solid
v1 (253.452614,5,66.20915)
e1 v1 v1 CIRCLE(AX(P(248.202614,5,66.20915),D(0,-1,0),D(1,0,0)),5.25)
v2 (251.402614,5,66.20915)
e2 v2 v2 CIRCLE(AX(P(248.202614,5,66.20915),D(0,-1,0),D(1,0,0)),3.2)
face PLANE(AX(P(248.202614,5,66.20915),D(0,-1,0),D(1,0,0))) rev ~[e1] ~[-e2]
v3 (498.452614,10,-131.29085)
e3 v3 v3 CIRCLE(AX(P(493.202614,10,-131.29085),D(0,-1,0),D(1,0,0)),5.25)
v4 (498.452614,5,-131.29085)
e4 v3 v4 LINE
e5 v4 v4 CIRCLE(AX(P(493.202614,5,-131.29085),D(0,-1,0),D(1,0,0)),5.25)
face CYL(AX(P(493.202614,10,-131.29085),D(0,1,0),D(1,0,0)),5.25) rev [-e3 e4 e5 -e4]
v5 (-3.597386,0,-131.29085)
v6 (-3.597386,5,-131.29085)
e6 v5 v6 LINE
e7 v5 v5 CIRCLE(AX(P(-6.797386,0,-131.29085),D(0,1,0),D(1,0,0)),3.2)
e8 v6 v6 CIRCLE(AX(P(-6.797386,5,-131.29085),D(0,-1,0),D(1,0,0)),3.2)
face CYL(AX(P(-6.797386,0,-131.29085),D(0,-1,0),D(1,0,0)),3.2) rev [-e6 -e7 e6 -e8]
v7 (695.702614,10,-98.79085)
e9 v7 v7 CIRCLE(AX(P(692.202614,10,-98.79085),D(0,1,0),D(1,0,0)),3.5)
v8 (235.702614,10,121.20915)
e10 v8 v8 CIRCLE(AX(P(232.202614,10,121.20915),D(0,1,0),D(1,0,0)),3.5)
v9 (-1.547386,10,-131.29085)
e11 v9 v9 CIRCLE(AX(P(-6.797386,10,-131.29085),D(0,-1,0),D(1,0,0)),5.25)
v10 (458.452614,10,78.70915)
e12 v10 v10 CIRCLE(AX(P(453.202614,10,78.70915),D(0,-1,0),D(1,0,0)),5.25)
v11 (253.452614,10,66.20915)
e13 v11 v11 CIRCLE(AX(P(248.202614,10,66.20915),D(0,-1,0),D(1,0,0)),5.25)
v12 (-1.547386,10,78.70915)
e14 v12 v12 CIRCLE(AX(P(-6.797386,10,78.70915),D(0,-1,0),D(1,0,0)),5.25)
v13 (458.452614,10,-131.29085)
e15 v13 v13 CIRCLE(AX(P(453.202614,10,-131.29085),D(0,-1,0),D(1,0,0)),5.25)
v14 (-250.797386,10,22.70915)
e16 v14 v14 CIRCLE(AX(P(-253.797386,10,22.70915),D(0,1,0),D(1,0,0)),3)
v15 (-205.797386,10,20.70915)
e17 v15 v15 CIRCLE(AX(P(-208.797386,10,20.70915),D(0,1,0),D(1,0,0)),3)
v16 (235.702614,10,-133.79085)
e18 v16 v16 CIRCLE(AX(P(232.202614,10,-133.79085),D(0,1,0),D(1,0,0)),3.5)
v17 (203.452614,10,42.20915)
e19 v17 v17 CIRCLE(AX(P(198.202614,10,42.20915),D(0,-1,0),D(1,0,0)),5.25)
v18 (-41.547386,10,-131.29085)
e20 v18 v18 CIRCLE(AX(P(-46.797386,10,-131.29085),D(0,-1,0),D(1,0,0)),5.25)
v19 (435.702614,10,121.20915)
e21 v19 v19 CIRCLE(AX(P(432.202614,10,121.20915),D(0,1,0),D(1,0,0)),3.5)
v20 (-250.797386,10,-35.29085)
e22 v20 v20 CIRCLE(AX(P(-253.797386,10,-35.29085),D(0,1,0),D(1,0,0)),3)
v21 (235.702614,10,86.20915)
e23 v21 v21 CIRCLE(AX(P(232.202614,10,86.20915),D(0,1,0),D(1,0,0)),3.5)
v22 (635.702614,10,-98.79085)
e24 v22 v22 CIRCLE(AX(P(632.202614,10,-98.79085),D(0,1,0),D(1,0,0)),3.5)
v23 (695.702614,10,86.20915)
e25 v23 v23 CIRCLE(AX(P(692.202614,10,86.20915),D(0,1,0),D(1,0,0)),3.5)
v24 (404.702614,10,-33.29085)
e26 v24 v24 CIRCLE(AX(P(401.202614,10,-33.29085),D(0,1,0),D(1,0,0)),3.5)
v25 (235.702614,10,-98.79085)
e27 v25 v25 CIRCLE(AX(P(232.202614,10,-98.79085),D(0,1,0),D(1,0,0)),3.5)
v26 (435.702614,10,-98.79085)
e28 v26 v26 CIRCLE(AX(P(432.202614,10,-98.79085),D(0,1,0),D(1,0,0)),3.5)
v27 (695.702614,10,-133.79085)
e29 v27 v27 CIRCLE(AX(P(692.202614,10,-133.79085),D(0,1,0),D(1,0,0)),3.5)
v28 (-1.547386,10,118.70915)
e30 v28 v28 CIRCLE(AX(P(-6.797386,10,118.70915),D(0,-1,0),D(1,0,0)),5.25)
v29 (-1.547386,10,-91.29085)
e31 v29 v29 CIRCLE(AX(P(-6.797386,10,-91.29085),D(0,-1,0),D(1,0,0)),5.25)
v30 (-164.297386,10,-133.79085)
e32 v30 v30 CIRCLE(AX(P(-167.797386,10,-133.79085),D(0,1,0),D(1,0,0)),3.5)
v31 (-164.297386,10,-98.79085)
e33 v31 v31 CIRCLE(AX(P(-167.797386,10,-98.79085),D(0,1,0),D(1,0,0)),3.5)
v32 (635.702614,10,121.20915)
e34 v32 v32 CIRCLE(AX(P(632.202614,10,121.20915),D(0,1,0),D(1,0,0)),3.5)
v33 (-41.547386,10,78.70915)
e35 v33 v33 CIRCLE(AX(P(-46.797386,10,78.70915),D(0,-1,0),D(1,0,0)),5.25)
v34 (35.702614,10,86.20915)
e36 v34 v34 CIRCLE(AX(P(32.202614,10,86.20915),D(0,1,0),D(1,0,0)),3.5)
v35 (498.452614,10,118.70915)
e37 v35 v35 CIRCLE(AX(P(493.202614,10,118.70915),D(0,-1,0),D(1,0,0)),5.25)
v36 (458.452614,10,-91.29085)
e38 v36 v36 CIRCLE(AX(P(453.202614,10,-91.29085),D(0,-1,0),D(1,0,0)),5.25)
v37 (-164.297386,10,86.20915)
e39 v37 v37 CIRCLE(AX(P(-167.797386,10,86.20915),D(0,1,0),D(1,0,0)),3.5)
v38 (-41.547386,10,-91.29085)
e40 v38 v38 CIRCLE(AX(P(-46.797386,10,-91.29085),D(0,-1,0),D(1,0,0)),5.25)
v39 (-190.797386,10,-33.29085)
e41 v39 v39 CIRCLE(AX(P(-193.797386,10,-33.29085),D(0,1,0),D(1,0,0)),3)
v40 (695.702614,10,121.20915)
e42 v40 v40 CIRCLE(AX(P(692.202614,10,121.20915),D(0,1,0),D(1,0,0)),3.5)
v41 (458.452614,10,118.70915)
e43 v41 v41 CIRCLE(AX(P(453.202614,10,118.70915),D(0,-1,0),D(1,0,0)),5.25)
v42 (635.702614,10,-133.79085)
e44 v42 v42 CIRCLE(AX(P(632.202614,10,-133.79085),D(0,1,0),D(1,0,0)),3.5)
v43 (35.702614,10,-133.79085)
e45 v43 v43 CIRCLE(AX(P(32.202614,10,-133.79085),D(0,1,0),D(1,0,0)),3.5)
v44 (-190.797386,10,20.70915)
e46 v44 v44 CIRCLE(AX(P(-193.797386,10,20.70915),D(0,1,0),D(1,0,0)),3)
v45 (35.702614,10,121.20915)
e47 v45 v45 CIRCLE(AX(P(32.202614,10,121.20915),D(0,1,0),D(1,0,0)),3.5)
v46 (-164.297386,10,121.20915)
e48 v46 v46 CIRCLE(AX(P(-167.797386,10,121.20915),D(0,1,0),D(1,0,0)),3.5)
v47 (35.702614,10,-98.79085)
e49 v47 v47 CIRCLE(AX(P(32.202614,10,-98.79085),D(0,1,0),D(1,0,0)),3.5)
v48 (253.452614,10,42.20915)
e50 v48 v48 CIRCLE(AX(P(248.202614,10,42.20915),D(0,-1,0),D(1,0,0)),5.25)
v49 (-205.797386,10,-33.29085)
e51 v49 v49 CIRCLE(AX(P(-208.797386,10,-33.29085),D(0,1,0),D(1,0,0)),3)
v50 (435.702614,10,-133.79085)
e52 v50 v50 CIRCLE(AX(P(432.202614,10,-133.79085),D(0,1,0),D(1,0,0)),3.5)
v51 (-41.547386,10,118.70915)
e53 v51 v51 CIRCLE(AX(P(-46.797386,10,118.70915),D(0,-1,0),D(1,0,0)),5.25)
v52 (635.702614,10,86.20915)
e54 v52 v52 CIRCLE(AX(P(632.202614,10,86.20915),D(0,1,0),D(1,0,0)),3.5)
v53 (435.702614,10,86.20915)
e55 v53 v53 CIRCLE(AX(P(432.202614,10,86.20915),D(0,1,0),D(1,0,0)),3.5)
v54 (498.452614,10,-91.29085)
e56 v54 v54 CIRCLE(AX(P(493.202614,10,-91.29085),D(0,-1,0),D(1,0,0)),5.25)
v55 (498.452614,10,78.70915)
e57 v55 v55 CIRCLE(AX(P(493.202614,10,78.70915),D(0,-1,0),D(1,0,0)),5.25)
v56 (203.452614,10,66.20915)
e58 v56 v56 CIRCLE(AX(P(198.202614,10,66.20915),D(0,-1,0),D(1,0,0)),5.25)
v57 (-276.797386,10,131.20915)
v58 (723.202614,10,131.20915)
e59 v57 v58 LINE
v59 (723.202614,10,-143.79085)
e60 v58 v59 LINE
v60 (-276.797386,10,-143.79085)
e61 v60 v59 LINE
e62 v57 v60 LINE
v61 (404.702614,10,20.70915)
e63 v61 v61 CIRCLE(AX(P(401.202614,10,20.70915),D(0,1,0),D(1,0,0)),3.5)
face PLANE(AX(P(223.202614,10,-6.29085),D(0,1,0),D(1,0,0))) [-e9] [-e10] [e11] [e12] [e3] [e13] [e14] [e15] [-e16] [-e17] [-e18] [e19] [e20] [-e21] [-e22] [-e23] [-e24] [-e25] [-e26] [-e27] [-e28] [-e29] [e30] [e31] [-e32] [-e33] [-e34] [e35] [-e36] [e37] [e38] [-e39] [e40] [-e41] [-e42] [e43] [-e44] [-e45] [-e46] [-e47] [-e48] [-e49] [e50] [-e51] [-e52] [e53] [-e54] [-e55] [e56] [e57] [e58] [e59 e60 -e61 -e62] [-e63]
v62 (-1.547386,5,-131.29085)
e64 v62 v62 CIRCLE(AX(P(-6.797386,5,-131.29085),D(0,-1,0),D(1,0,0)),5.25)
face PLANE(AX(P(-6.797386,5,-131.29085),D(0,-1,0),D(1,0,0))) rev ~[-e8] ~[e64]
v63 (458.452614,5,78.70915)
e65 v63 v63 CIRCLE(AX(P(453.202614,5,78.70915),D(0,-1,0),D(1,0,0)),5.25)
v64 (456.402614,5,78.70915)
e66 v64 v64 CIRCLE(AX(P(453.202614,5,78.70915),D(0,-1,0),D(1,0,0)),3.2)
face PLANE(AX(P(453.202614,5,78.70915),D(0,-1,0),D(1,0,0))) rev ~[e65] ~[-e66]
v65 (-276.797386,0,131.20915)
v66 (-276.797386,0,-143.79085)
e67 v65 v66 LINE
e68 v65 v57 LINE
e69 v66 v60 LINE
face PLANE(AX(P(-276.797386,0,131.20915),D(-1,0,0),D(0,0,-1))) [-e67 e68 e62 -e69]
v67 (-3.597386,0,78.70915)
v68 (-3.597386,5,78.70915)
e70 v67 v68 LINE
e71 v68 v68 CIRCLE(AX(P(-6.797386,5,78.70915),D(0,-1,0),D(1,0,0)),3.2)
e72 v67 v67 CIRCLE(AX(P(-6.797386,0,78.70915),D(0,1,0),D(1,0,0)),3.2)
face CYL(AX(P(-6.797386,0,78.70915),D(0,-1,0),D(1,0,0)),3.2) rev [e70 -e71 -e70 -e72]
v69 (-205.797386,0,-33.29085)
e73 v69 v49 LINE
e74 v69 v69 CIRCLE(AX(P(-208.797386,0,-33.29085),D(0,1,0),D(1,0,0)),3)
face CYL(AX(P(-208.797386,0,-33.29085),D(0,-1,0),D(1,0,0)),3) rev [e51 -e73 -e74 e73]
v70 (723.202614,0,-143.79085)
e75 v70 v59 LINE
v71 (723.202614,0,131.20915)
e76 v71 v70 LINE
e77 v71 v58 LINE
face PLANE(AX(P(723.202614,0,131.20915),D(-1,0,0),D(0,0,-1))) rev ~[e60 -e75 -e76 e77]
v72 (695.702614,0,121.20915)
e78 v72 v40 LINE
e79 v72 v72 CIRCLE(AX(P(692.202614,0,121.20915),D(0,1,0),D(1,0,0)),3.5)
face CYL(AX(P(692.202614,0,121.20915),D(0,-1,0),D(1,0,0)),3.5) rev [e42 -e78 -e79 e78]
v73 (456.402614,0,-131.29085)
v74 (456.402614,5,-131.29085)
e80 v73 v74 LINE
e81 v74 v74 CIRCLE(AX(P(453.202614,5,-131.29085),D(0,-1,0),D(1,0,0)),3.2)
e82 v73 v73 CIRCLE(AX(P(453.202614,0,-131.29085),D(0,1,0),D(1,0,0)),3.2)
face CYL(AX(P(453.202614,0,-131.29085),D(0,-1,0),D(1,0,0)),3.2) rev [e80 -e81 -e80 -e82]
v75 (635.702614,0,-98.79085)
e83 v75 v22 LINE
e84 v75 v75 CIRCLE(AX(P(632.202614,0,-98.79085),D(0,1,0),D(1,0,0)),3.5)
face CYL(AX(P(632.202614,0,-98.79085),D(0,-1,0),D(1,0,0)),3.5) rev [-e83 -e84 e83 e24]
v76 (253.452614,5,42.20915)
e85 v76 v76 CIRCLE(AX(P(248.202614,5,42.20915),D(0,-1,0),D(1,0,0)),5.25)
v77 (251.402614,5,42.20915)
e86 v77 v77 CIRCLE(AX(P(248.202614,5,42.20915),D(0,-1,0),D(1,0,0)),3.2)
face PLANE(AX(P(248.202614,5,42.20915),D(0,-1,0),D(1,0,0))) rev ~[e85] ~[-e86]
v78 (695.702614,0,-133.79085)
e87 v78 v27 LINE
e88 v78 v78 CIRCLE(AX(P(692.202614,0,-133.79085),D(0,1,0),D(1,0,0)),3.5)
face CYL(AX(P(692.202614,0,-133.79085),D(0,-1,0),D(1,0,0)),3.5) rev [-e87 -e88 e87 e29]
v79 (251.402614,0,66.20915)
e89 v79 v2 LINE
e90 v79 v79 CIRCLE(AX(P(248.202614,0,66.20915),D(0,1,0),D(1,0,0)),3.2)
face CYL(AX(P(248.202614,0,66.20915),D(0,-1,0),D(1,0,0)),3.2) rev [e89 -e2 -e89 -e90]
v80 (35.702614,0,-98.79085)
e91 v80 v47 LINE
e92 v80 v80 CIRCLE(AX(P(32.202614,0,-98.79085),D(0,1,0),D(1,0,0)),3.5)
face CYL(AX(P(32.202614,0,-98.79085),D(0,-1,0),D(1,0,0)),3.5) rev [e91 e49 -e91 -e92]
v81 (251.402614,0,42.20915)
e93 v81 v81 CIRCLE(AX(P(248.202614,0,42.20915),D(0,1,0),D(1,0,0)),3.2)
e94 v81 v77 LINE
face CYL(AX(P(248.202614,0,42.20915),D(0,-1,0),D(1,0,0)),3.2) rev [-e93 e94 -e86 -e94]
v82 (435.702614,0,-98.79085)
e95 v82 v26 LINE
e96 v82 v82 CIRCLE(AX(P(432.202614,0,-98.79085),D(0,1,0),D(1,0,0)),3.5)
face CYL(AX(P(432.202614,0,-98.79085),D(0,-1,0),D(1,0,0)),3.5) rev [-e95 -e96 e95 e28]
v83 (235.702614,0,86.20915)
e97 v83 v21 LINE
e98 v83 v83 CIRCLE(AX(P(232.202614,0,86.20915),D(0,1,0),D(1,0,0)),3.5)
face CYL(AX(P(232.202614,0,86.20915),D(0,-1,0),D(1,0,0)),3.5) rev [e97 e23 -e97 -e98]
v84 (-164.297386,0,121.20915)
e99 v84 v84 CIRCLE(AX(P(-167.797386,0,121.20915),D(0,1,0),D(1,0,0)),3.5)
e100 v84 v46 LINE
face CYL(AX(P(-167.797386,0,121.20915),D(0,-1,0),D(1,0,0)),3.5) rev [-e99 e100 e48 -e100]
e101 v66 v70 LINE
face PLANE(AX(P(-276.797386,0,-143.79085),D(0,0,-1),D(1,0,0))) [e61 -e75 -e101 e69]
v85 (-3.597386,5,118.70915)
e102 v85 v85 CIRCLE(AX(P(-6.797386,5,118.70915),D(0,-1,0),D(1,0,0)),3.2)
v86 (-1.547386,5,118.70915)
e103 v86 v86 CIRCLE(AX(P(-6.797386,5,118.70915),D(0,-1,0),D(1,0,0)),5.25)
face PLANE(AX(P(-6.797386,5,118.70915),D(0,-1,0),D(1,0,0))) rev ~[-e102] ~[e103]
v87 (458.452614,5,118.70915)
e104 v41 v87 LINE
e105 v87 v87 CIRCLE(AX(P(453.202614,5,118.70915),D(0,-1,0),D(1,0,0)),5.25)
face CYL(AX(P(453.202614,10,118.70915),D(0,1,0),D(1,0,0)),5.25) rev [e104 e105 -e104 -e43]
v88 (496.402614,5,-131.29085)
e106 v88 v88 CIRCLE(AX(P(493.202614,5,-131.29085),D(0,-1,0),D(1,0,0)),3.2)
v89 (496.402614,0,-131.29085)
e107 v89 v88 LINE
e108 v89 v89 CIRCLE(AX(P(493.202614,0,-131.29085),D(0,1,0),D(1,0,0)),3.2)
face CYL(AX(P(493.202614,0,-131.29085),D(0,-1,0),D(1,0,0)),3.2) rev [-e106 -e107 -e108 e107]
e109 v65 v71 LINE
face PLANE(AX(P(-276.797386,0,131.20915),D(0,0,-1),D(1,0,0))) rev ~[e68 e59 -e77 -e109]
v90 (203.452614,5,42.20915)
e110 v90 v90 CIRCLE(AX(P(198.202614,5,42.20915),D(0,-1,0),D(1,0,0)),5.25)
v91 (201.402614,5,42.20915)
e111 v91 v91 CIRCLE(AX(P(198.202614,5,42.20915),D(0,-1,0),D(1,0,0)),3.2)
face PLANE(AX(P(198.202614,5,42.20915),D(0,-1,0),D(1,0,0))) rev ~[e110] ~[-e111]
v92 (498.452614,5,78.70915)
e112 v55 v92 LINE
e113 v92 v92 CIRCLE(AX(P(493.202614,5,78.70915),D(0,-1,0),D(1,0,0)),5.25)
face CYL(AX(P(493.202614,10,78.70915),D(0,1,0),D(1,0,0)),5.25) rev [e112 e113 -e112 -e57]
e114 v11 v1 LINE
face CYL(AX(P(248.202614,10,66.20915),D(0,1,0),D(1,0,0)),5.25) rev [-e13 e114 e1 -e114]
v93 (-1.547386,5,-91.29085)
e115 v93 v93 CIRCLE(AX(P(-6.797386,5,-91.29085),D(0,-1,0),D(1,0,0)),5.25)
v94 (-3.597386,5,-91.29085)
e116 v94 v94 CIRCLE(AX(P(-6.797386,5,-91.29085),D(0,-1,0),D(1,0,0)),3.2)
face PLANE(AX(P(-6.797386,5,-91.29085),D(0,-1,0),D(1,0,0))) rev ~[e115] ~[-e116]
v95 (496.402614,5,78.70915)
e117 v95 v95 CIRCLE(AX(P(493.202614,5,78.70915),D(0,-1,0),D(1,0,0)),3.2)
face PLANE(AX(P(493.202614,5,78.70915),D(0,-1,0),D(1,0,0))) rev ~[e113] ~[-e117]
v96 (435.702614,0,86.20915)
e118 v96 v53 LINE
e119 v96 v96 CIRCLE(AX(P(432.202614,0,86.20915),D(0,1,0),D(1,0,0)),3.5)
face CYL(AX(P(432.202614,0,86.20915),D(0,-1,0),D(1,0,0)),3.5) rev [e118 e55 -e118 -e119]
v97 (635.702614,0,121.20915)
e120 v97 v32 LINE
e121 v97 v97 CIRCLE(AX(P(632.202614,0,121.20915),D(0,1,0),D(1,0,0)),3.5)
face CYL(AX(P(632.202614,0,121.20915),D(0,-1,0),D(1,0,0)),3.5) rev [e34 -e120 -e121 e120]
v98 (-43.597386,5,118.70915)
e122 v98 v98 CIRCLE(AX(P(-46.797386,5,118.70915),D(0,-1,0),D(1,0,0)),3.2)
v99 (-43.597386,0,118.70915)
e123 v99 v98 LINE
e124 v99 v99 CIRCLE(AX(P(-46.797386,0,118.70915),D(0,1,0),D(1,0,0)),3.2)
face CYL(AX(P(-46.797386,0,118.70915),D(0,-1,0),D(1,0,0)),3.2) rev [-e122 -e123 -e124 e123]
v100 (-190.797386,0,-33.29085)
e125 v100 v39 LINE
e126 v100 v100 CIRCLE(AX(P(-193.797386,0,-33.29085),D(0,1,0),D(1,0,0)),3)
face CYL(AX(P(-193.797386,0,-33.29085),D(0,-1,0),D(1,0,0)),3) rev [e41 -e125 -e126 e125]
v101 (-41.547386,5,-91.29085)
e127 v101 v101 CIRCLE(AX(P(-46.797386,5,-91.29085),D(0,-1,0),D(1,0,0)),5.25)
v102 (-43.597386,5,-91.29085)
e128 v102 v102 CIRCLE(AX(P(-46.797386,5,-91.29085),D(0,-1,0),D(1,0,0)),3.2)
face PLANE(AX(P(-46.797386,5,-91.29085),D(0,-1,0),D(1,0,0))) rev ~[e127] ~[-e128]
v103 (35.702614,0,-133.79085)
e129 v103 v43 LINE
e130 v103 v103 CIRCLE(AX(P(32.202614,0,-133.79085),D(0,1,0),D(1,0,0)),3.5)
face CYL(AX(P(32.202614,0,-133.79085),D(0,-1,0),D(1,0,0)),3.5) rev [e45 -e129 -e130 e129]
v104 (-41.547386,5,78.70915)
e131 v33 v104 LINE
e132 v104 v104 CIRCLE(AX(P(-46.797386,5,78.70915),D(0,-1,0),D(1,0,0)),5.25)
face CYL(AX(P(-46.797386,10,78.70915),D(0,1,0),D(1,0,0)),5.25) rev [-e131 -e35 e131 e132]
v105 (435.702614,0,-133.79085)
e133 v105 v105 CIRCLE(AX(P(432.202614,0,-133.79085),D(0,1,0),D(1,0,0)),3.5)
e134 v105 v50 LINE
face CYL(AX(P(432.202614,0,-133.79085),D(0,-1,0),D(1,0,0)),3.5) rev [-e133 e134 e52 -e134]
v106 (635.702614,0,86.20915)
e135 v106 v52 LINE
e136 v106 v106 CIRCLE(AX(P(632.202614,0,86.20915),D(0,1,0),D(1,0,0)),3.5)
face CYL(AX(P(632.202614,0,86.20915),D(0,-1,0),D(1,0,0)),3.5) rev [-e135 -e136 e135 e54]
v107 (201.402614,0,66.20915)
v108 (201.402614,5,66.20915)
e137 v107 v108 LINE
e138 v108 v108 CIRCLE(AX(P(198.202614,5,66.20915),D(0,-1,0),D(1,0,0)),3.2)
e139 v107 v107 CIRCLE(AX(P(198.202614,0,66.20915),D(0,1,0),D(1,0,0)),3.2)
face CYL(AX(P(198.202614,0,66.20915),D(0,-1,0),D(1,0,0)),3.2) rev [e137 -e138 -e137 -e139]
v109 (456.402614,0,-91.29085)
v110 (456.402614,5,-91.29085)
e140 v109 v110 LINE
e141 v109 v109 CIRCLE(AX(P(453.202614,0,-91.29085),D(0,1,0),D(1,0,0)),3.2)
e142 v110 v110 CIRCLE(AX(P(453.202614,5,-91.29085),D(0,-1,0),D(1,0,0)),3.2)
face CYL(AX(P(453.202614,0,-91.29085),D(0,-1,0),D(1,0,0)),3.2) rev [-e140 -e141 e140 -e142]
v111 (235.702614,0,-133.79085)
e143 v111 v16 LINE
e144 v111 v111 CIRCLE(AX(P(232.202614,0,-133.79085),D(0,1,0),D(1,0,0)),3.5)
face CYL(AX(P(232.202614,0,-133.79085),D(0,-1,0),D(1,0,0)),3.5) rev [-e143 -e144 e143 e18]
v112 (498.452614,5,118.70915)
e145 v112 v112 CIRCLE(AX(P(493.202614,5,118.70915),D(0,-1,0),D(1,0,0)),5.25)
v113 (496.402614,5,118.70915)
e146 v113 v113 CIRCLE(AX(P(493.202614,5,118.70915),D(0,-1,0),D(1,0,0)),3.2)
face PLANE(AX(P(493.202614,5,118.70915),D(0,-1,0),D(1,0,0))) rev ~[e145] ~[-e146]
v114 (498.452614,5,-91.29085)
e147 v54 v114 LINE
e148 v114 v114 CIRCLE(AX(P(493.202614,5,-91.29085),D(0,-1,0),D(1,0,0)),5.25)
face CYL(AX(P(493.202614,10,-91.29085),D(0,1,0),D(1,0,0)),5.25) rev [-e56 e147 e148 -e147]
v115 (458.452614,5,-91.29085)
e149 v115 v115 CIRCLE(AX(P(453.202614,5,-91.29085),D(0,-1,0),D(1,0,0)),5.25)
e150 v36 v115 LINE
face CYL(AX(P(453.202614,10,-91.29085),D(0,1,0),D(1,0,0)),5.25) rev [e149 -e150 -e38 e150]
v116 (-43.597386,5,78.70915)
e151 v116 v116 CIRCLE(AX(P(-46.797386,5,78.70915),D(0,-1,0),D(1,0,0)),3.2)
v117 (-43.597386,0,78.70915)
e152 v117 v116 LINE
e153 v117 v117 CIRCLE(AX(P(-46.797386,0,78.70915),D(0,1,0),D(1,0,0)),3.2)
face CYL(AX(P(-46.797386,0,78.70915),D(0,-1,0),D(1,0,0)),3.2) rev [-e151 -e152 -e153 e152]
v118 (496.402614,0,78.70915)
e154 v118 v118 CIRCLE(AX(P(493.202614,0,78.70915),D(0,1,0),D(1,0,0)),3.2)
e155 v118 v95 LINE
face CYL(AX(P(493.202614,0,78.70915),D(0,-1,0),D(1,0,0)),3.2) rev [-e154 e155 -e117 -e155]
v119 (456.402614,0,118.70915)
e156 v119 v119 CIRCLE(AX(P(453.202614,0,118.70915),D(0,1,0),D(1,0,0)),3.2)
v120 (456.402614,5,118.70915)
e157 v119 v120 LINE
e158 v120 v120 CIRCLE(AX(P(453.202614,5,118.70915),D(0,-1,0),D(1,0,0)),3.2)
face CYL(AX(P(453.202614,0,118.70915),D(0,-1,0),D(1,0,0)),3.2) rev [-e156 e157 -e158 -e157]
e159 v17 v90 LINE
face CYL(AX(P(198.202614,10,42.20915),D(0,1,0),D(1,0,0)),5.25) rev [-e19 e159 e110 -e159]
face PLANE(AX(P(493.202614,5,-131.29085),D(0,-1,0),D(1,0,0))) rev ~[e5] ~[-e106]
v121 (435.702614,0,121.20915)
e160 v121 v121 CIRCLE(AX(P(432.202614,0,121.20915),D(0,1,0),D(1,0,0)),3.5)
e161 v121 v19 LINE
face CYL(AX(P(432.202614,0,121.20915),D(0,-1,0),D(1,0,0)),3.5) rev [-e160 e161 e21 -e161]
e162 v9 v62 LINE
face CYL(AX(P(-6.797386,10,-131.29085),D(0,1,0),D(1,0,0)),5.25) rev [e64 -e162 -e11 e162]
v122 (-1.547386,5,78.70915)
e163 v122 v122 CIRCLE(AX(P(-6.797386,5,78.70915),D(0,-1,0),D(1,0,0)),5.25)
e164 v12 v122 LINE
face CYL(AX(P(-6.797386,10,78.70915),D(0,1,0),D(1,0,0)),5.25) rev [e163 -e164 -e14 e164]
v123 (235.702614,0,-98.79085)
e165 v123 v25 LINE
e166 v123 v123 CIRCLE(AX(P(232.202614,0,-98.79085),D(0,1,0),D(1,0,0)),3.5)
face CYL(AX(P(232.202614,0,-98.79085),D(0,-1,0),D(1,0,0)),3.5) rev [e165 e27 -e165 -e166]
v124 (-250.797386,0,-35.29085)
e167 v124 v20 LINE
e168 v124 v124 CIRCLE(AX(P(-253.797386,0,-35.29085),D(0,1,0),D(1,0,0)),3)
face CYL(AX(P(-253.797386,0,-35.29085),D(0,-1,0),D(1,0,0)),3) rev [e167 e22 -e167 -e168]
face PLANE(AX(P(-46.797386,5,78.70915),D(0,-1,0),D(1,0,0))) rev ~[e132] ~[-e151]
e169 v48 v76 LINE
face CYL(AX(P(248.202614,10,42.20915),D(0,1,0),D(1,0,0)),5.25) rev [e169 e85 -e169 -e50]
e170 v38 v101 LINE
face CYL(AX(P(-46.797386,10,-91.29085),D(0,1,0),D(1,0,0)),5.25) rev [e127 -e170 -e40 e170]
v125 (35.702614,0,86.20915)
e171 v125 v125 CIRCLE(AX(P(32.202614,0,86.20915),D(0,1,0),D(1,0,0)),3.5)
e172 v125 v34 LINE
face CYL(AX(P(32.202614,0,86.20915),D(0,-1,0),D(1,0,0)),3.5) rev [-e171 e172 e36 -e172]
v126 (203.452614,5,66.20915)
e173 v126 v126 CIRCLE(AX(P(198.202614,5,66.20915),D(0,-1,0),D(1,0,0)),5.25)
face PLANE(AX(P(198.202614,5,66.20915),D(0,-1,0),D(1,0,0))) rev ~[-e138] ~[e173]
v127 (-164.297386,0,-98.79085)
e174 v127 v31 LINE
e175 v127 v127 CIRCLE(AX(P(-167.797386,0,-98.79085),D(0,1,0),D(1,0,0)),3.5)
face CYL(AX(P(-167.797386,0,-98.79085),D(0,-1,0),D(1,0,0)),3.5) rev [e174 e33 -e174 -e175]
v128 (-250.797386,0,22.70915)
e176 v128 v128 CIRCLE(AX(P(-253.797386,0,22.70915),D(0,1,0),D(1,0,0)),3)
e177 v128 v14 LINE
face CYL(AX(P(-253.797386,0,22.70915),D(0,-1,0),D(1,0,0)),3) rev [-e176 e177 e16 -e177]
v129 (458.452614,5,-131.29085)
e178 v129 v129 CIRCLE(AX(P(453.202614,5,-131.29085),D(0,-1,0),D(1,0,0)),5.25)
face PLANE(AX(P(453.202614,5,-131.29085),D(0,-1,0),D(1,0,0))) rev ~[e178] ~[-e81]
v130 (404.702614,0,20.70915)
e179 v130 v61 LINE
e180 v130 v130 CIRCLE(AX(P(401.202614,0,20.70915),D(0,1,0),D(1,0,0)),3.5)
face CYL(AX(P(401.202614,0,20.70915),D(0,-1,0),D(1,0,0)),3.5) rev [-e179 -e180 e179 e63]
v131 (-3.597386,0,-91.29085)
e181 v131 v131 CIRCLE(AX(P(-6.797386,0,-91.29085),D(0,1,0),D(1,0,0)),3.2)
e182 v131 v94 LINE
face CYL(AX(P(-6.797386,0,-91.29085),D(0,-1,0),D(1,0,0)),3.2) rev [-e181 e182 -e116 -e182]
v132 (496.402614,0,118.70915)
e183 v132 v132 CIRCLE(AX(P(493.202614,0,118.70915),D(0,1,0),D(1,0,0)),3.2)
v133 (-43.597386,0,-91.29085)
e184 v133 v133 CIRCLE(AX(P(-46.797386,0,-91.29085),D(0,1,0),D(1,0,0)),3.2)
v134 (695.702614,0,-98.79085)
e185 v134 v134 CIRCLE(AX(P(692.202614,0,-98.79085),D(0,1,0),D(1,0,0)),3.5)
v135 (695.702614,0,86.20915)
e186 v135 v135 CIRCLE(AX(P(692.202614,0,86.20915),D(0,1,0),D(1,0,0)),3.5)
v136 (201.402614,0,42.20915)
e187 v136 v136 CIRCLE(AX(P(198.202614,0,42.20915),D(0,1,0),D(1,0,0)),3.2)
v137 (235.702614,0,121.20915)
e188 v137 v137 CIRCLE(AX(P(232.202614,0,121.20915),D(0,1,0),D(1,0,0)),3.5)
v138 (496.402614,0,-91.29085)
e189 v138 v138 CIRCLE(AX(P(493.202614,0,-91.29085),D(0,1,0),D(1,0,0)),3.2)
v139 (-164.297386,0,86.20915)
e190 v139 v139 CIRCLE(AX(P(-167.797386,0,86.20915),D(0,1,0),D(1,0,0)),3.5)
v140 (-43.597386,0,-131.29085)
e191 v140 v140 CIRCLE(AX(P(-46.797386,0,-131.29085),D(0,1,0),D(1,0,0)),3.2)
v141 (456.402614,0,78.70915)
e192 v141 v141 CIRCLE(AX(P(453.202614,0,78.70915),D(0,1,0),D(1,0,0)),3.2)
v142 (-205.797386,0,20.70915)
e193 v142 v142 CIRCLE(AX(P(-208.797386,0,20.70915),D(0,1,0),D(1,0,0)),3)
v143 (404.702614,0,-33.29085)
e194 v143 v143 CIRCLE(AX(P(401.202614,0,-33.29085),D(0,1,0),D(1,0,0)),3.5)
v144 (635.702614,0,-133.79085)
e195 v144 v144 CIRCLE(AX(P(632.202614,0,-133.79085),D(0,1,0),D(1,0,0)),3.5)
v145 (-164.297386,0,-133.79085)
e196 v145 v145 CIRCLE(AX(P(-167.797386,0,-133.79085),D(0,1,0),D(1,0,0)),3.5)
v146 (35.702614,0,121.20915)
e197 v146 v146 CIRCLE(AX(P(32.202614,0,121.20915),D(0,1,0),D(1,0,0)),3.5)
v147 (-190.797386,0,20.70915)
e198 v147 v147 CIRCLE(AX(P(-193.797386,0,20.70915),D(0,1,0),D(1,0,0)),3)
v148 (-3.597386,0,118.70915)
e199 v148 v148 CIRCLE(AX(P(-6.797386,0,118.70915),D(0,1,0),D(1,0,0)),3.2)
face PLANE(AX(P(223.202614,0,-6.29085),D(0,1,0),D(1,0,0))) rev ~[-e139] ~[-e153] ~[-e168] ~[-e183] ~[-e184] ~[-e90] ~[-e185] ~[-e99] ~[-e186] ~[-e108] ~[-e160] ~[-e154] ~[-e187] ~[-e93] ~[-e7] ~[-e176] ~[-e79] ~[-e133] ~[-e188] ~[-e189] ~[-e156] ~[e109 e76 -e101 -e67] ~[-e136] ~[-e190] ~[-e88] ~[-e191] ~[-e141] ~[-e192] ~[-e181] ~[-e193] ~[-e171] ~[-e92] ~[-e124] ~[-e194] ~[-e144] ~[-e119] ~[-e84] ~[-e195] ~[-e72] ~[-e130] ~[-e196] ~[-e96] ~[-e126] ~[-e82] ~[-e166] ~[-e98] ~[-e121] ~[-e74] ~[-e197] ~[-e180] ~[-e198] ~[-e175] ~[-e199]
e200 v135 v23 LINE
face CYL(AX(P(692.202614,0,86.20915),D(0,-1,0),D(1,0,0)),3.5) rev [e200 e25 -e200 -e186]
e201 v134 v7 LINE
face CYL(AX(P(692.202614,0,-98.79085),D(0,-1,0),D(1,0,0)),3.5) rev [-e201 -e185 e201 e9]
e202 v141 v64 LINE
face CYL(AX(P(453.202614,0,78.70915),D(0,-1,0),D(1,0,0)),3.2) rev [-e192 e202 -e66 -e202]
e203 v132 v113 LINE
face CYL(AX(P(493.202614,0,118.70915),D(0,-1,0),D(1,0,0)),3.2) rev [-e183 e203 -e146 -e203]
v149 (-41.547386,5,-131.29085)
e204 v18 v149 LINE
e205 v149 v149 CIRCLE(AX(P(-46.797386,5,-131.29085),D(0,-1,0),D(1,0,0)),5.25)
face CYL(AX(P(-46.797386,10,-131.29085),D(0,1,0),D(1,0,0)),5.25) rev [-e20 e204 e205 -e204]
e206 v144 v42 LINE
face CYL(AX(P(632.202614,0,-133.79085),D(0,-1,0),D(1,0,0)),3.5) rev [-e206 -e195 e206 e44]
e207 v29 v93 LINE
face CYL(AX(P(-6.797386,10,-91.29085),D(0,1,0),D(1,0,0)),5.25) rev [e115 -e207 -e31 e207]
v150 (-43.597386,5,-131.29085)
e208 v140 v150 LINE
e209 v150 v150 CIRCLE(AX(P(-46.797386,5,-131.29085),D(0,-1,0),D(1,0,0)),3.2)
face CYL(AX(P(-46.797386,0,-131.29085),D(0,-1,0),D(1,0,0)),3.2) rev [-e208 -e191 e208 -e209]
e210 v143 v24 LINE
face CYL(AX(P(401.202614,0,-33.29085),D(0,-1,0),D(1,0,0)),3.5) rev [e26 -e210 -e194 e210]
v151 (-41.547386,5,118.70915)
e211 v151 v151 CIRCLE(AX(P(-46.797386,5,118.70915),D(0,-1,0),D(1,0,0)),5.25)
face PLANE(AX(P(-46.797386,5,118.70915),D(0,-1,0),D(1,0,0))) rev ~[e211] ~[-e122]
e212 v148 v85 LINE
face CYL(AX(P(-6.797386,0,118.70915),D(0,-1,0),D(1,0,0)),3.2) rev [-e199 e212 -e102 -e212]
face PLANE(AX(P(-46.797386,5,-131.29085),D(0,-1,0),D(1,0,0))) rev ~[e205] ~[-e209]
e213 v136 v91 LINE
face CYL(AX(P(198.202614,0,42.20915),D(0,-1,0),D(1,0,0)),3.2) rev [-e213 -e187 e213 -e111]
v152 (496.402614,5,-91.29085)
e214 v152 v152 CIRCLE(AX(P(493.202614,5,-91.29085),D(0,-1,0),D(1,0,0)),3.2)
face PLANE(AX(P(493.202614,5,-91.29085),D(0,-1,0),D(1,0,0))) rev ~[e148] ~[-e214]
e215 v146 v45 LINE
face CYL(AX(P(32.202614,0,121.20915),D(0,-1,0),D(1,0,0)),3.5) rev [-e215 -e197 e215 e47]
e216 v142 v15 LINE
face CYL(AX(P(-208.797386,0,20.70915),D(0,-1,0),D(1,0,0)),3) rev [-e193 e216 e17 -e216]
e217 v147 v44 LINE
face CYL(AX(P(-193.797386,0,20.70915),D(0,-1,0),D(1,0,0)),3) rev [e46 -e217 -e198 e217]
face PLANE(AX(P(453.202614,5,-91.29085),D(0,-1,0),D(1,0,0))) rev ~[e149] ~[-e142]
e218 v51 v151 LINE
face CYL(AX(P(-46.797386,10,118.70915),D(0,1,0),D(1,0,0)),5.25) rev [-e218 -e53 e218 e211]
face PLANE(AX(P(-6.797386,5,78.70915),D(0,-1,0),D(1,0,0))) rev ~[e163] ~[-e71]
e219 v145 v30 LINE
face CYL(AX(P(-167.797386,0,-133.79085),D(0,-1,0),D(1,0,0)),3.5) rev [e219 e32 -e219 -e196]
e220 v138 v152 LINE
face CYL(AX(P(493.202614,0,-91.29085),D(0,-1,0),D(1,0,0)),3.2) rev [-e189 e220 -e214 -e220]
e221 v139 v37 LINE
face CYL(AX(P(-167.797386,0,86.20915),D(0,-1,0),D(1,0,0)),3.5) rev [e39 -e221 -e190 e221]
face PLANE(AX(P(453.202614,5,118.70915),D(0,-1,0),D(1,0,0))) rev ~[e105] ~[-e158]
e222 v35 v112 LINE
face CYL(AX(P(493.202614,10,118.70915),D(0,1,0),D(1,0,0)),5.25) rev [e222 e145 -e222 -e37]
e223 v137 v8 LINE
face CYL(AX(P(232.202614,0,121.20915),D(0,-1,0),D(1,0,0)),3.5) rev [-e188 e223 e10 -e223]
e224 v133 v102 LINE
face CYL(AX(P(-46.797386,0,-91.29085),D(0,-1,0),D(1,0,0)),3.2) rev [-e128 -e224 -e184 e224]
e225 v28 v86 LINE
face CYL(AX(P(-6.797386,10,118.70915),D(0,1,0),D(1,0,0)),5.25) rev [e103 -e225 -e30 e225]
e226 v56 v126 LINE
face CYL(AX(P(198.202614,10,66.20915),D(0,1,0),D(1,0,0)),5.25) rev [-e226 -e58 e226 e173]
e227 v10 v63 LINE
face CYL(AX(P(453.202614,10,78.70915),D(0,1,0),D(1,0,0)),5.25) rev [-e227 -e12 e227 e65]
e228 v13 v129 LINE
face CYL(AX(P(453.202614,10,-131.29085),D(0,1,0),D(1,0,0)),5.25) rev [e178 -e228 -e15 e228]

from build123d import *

# Parameters (mm, degrees)
SKETCH_1_W          = 1000
SKETCH_1_H          = 275
SKETCH_1_R          = 3
SKETCH_1_R_2        = 3.5
SKETCH_1_R_3        = 3.2
EXTRUDE_1_DEPTH     = 10
SKETCH_1290_R       = 5.25
CUT_EXTRUDE_1_DEPTH = 5


with BuildPart() as part:
    # Эскиз1 → Бобышка-Вытянуть1 (new body)
    with BuildSketch(Plane(origin=(0, 0, 0), x_dir=(1, 0, 0), z_dir=(0, 1, 0))):
        with Locations((223.202614379, 6.290849673)):
            Rectangle(SKETCH_1_W, SKETCH_1_H)
        with Locations((-253.797385621, 35.290849673)):
            Circle(SKETCH_1_R, mode=Mode.SUBTRACT)
        with Locations((-208.797385621, 33.290849673)):
            Circle(SKETCH_1_R, mode=Mode.SUBTRACT)
        with Locations((-193.797385621, 33.290849673)):
            Circle(SKETCH_1_R, mode=Mode.SUBTRACT)
        with Locations((-167.797385621, 133.790849673)):
            Circle(SKETCH_1_R_2, mode=Mode.SUBTRACT)
        with Locations((32.202614379, 133.790849673)):
            Circle(SKETCH_1_R_2, mode=Mode.SUBTRACT)
        with Locations((232.202614379, 133.790849673)):
            Circle(SKETCH_1_R_2, mode=Mode.SUBTRACT)
        with Locations((432.202614379, 133.790849673)):
            Circle(SKETCH_1_R_2, mode=Mode.SUBTRACT)
        with Locations((632.202614379, 133.790849673)):
            Circle(SKETCH_1_R_2, mode=Mode.SUBTRACT)
        with Locations((692.202614379, 133.790849673)):
            Circle(SKETCH_1_R_2, mode=Mode.SUBTRACT)
        with Locations((692.202614379, 98.790849673)):
            Circle(SKETCH_1_R_2, mode=Mode.SUBTRACT)
        with Locations((632.202614379, 98.790849673)):
            Circle(SKETCH_1_R_2, mode=Mode.SUBTRACT)
        with Locations((432.202614379, 98.790849673)):
            Circle(SKETCH_1_R_2, mode=Mode.SUBTRACT)
        with Locations((232.202614379, 98.790849673)):
            Circle(SKETCH_1_R_2, mode=Mode.SUBTRACT)
        with Locations((32.202614379, 98.790849673)):
            Circle(SKETCH_1_R_2, mode=Mode.SUBTRACT)
        with Locations((-167.797385621, 98.790849673)):
            Circle(SKETCH_1_R_2, mode=Mode.SUBTRACT)
        with Locations((632.202614379, -86.209150327)):
            Circle(SKETCH_1_R_2, mode=Mode.SUBTRACT)
        with Locations((692.202614379, -86.209150327)):
            Circle(SKETCH_1_R_2, mode=Mode.SUBTRACT)
        with Locations((692.202614379, -121.209150327)):
            Circle(SKETCH_1_R_2, mode=Mode.SUBTRACT)
        with Locations((632.202614379, -121.209150327)):
            Circle(SKETCH_1_R_2, mode=Mode.SUBTRACT)
        with Locations((432.202614379, -86.209150327)):
            Circle(SKETCH_1_R_2, mode=Mode.SUBTRACT)
        with Locations((432.202614379, -121.209150327)):
            Circle(SKETCH_1_R_2, mode=Mode.SUBTRACT)
        with Locations((232.202614379, -86.209150327)):
            Circle(SKETCH_1_R_2, mode=Mode.SUBTRACT)
        with Locations((232.202614379, -121.209150327)):
            Circle(SKETCH_1_R_2, mode=Mode.SUBTRACT)
        with Locations((32.202614379, -86.209150327)):
            Circle(SKETCH_1_R_2, mode=Mode.SUBTRACT)
        with Locations((32.202614379, -121.209150327)):
            Circle(SKETCH_1_R_2, mode=Mode.SUBTRACT)
        with Locations((-167.797385621, -86.209150327)):
            Circle(SKETCH_1_R_2, mode=Mode.SUBTRACT)
        with Locations((-167.797385621, -121.209150327)):
            Circle(SKETCH_1_R_2, mode=Mode.SUBTRACT)
        with Locations((401.202614379, 33.290849673)):
            Circle(SKETCH_1_R_2, mode=Mode.SUBTRACT)
        with Locations((401.202614379, -20.709150327)):
            Circle(SKETCH_1_R_2, mode=Mode.SUBTRACT)
        with Locations((-193.797385621, -20.709150327)):
            Circle(SKETCH_1_R, mode=Mode.SUBTRACT)
        with Locations((-208.797385621, -20.709150327)):
            Circle(SKETCH_1_R, mode=Mode.SUBTRACT)
        with Locations((-253.797385621, -22.709150327)):
            Circle(SKETCH_1_R, mode=Mode.SUBTRACT)
        with Locations((-46.797385621, -118.709150327)):
            Circle(SKETCH_1_R_3, mode=Mode.SUBTRACT)
        with Locations((-46.797385621, -78.709150327)):
            Circle(SKETCH_1_R_3, mode=Mode.SUBTRACT)
        with Locations((-6.797385621, -78.709150327)):
            Circle(SKETCH_1_R_3, mode=Mode.SUBTRACT)
        with Locations((-6.797385621, -118.709150327)):
            Circle(SKETCH_1_R_3, mode=Mode.SUBTRACT)
        with Locations((-6.797385621, 131.290849673)):
            Circle(SKETCH_1_R_3, mode=Mode.SUBTRACT)
        with Locations((-46.797385621, 131.290849673)):
            Circle(SKETCH_1_R_3, mode=Mode.SUBTRACT)
        with Locations((-6.797385621, 91.290849673)):
            Circle(SKETCH_1_R_3, mode=Mode.SUBTRACT)
        with Locations((-46.797385621, 91.290849673)):
            Circle(SKETCH_1_R_3, mode=Mode.SUBTRACT)
        with Locations((493.202614379, -118.709150327)):
            Circle(SKETCH_1_R_3, mode=Mode.SUBTRACT)
        with Locations((493.202614379, -78.709150327)):
            Circle(SKETCH_1_R_3, mode=Mode.SUBTRACT)
        with Locations((453.202614379, -118.709150327)):
            Circle(SKETCH_1_R_3, mode=Mode.SUBTRACT)
        with Locations((453.202614379, -78.709150327)):
            Circle(SKETCH_1_R_3, mode=Mode.SUBTRACT)
        with Locations((493.202614379, 131.290849673)):
            Circle(SKETCH_1_R_3, mode=Mode.SUBTRACT)
        with Locations((453.202614379, 131.290849673)):
            Circle(SKETCH_1_R_3, mode=Mode.SUBTRACT)
        with Locations((493.202614379, 91.290849673)):
            Circle(SKETCH_1_R_3, mode=Mode.SUBTRACT)
        with Locations((453.202614379, 91.290849673)):
            Circle(SKETCH_1_R_3, mode=Mode.SUBTRACT)
        with Locations((198.202614379, -66.209150327)):
            Circle(SKETCH_1_R_3, mode=Mode.SUBTRACT)
        with Locations((198.202614379, -42.209150327)):
            Circle(SKETCH_1_R_3, mode=Mode.SUBTRACT)
        with Locations((248.202614379, -66.209150327)):
            Circle(SKETCH_1_R_3, mode=Mode.SUBTRACT)
        with Locations((248.202614379, -42.209150327)):
            Circle(SKETCH_1_R_3, mode=Mode.SUBTRACT)
    extrude(amount=EXTRUDE_1_DEPTH)

    # Sketch 1290 → Вырез-Вытянуть1 (cut)
    with BuildSketch(Plane(origin=(0, 10, -10), x_dir=(1, 0, 0), z_dir=(0, -1, 0))):
        with Locations((-46.797385621, -121.290849673)):
            Circle(SKETCH_1290_R)
        with Locations((-46.797385621, -81.290849673)):
            Circle(SKETCH_1290_R)
        with Locations((-6.797385621, -81.290849673)):
            Circle(SKETCH_1290_R)
        with Locations((-6.797385621, -121.290849673)):
            Circle(SKETCH_1290_R)
        with Locations((-6.797385621, 128.709150327)):
            Circle(SKETCH_1290_R)
        with Locations((-46.797385621, 128.709150327)):
            Circle(SKETCH_1290_R)
        with Locations((-6.797385621, 88.709150327)):
            Circle(SKETCH_1290_R)
        with Locations((-46.797385621, 88.709150327)):
            Circle(SKETCH_1290_R)
        with Locations((493.202614379, -121.290849673)):
            Circle(SKETCH_1290_R)
        with Locations((493.202614379, -81.290849673)):
            Circle(SKETCH_1290_R)
        with Locations((453.202614379, -121.290849673)):
            Circle(SKETCH_1290_R)
        with Locations((453.202614379, -81.290849673)):
            Circle(SKETCH_1290_R)
        with Locations((493.202614379, 128.709150327)):
            Circle(SKETCH_1290_R)
        with Locations((453.202614379, 128.709150327)):
            Circle(SKETCH_1290_R)
        with Locations((493.202614379, 88.709150327)):
            Circle(SKETCH_1290_R)
        with Locations((453.202614379, 88.709150327)):
            Circle(SKETCH_1290_R)
        with Locations((198.202614379, 52.209150327)):
            Circle(SKETCH_1290_R)
        with Locations((198.202614379, 76.209150327)):
            Circle(SKETCH_1290_R)
        with Locations((248.202614379, 76.209150327)):
            Circle(SKETCH_1290_R)
        with Locations((248.202614379, 52.209150327)):
            Circle(SKETCH_1290_R)
    extrude(amount=CUT_EXTRUDE_1_DEPTH, mode=Mode.SUBTRACT)


solid = part.part
